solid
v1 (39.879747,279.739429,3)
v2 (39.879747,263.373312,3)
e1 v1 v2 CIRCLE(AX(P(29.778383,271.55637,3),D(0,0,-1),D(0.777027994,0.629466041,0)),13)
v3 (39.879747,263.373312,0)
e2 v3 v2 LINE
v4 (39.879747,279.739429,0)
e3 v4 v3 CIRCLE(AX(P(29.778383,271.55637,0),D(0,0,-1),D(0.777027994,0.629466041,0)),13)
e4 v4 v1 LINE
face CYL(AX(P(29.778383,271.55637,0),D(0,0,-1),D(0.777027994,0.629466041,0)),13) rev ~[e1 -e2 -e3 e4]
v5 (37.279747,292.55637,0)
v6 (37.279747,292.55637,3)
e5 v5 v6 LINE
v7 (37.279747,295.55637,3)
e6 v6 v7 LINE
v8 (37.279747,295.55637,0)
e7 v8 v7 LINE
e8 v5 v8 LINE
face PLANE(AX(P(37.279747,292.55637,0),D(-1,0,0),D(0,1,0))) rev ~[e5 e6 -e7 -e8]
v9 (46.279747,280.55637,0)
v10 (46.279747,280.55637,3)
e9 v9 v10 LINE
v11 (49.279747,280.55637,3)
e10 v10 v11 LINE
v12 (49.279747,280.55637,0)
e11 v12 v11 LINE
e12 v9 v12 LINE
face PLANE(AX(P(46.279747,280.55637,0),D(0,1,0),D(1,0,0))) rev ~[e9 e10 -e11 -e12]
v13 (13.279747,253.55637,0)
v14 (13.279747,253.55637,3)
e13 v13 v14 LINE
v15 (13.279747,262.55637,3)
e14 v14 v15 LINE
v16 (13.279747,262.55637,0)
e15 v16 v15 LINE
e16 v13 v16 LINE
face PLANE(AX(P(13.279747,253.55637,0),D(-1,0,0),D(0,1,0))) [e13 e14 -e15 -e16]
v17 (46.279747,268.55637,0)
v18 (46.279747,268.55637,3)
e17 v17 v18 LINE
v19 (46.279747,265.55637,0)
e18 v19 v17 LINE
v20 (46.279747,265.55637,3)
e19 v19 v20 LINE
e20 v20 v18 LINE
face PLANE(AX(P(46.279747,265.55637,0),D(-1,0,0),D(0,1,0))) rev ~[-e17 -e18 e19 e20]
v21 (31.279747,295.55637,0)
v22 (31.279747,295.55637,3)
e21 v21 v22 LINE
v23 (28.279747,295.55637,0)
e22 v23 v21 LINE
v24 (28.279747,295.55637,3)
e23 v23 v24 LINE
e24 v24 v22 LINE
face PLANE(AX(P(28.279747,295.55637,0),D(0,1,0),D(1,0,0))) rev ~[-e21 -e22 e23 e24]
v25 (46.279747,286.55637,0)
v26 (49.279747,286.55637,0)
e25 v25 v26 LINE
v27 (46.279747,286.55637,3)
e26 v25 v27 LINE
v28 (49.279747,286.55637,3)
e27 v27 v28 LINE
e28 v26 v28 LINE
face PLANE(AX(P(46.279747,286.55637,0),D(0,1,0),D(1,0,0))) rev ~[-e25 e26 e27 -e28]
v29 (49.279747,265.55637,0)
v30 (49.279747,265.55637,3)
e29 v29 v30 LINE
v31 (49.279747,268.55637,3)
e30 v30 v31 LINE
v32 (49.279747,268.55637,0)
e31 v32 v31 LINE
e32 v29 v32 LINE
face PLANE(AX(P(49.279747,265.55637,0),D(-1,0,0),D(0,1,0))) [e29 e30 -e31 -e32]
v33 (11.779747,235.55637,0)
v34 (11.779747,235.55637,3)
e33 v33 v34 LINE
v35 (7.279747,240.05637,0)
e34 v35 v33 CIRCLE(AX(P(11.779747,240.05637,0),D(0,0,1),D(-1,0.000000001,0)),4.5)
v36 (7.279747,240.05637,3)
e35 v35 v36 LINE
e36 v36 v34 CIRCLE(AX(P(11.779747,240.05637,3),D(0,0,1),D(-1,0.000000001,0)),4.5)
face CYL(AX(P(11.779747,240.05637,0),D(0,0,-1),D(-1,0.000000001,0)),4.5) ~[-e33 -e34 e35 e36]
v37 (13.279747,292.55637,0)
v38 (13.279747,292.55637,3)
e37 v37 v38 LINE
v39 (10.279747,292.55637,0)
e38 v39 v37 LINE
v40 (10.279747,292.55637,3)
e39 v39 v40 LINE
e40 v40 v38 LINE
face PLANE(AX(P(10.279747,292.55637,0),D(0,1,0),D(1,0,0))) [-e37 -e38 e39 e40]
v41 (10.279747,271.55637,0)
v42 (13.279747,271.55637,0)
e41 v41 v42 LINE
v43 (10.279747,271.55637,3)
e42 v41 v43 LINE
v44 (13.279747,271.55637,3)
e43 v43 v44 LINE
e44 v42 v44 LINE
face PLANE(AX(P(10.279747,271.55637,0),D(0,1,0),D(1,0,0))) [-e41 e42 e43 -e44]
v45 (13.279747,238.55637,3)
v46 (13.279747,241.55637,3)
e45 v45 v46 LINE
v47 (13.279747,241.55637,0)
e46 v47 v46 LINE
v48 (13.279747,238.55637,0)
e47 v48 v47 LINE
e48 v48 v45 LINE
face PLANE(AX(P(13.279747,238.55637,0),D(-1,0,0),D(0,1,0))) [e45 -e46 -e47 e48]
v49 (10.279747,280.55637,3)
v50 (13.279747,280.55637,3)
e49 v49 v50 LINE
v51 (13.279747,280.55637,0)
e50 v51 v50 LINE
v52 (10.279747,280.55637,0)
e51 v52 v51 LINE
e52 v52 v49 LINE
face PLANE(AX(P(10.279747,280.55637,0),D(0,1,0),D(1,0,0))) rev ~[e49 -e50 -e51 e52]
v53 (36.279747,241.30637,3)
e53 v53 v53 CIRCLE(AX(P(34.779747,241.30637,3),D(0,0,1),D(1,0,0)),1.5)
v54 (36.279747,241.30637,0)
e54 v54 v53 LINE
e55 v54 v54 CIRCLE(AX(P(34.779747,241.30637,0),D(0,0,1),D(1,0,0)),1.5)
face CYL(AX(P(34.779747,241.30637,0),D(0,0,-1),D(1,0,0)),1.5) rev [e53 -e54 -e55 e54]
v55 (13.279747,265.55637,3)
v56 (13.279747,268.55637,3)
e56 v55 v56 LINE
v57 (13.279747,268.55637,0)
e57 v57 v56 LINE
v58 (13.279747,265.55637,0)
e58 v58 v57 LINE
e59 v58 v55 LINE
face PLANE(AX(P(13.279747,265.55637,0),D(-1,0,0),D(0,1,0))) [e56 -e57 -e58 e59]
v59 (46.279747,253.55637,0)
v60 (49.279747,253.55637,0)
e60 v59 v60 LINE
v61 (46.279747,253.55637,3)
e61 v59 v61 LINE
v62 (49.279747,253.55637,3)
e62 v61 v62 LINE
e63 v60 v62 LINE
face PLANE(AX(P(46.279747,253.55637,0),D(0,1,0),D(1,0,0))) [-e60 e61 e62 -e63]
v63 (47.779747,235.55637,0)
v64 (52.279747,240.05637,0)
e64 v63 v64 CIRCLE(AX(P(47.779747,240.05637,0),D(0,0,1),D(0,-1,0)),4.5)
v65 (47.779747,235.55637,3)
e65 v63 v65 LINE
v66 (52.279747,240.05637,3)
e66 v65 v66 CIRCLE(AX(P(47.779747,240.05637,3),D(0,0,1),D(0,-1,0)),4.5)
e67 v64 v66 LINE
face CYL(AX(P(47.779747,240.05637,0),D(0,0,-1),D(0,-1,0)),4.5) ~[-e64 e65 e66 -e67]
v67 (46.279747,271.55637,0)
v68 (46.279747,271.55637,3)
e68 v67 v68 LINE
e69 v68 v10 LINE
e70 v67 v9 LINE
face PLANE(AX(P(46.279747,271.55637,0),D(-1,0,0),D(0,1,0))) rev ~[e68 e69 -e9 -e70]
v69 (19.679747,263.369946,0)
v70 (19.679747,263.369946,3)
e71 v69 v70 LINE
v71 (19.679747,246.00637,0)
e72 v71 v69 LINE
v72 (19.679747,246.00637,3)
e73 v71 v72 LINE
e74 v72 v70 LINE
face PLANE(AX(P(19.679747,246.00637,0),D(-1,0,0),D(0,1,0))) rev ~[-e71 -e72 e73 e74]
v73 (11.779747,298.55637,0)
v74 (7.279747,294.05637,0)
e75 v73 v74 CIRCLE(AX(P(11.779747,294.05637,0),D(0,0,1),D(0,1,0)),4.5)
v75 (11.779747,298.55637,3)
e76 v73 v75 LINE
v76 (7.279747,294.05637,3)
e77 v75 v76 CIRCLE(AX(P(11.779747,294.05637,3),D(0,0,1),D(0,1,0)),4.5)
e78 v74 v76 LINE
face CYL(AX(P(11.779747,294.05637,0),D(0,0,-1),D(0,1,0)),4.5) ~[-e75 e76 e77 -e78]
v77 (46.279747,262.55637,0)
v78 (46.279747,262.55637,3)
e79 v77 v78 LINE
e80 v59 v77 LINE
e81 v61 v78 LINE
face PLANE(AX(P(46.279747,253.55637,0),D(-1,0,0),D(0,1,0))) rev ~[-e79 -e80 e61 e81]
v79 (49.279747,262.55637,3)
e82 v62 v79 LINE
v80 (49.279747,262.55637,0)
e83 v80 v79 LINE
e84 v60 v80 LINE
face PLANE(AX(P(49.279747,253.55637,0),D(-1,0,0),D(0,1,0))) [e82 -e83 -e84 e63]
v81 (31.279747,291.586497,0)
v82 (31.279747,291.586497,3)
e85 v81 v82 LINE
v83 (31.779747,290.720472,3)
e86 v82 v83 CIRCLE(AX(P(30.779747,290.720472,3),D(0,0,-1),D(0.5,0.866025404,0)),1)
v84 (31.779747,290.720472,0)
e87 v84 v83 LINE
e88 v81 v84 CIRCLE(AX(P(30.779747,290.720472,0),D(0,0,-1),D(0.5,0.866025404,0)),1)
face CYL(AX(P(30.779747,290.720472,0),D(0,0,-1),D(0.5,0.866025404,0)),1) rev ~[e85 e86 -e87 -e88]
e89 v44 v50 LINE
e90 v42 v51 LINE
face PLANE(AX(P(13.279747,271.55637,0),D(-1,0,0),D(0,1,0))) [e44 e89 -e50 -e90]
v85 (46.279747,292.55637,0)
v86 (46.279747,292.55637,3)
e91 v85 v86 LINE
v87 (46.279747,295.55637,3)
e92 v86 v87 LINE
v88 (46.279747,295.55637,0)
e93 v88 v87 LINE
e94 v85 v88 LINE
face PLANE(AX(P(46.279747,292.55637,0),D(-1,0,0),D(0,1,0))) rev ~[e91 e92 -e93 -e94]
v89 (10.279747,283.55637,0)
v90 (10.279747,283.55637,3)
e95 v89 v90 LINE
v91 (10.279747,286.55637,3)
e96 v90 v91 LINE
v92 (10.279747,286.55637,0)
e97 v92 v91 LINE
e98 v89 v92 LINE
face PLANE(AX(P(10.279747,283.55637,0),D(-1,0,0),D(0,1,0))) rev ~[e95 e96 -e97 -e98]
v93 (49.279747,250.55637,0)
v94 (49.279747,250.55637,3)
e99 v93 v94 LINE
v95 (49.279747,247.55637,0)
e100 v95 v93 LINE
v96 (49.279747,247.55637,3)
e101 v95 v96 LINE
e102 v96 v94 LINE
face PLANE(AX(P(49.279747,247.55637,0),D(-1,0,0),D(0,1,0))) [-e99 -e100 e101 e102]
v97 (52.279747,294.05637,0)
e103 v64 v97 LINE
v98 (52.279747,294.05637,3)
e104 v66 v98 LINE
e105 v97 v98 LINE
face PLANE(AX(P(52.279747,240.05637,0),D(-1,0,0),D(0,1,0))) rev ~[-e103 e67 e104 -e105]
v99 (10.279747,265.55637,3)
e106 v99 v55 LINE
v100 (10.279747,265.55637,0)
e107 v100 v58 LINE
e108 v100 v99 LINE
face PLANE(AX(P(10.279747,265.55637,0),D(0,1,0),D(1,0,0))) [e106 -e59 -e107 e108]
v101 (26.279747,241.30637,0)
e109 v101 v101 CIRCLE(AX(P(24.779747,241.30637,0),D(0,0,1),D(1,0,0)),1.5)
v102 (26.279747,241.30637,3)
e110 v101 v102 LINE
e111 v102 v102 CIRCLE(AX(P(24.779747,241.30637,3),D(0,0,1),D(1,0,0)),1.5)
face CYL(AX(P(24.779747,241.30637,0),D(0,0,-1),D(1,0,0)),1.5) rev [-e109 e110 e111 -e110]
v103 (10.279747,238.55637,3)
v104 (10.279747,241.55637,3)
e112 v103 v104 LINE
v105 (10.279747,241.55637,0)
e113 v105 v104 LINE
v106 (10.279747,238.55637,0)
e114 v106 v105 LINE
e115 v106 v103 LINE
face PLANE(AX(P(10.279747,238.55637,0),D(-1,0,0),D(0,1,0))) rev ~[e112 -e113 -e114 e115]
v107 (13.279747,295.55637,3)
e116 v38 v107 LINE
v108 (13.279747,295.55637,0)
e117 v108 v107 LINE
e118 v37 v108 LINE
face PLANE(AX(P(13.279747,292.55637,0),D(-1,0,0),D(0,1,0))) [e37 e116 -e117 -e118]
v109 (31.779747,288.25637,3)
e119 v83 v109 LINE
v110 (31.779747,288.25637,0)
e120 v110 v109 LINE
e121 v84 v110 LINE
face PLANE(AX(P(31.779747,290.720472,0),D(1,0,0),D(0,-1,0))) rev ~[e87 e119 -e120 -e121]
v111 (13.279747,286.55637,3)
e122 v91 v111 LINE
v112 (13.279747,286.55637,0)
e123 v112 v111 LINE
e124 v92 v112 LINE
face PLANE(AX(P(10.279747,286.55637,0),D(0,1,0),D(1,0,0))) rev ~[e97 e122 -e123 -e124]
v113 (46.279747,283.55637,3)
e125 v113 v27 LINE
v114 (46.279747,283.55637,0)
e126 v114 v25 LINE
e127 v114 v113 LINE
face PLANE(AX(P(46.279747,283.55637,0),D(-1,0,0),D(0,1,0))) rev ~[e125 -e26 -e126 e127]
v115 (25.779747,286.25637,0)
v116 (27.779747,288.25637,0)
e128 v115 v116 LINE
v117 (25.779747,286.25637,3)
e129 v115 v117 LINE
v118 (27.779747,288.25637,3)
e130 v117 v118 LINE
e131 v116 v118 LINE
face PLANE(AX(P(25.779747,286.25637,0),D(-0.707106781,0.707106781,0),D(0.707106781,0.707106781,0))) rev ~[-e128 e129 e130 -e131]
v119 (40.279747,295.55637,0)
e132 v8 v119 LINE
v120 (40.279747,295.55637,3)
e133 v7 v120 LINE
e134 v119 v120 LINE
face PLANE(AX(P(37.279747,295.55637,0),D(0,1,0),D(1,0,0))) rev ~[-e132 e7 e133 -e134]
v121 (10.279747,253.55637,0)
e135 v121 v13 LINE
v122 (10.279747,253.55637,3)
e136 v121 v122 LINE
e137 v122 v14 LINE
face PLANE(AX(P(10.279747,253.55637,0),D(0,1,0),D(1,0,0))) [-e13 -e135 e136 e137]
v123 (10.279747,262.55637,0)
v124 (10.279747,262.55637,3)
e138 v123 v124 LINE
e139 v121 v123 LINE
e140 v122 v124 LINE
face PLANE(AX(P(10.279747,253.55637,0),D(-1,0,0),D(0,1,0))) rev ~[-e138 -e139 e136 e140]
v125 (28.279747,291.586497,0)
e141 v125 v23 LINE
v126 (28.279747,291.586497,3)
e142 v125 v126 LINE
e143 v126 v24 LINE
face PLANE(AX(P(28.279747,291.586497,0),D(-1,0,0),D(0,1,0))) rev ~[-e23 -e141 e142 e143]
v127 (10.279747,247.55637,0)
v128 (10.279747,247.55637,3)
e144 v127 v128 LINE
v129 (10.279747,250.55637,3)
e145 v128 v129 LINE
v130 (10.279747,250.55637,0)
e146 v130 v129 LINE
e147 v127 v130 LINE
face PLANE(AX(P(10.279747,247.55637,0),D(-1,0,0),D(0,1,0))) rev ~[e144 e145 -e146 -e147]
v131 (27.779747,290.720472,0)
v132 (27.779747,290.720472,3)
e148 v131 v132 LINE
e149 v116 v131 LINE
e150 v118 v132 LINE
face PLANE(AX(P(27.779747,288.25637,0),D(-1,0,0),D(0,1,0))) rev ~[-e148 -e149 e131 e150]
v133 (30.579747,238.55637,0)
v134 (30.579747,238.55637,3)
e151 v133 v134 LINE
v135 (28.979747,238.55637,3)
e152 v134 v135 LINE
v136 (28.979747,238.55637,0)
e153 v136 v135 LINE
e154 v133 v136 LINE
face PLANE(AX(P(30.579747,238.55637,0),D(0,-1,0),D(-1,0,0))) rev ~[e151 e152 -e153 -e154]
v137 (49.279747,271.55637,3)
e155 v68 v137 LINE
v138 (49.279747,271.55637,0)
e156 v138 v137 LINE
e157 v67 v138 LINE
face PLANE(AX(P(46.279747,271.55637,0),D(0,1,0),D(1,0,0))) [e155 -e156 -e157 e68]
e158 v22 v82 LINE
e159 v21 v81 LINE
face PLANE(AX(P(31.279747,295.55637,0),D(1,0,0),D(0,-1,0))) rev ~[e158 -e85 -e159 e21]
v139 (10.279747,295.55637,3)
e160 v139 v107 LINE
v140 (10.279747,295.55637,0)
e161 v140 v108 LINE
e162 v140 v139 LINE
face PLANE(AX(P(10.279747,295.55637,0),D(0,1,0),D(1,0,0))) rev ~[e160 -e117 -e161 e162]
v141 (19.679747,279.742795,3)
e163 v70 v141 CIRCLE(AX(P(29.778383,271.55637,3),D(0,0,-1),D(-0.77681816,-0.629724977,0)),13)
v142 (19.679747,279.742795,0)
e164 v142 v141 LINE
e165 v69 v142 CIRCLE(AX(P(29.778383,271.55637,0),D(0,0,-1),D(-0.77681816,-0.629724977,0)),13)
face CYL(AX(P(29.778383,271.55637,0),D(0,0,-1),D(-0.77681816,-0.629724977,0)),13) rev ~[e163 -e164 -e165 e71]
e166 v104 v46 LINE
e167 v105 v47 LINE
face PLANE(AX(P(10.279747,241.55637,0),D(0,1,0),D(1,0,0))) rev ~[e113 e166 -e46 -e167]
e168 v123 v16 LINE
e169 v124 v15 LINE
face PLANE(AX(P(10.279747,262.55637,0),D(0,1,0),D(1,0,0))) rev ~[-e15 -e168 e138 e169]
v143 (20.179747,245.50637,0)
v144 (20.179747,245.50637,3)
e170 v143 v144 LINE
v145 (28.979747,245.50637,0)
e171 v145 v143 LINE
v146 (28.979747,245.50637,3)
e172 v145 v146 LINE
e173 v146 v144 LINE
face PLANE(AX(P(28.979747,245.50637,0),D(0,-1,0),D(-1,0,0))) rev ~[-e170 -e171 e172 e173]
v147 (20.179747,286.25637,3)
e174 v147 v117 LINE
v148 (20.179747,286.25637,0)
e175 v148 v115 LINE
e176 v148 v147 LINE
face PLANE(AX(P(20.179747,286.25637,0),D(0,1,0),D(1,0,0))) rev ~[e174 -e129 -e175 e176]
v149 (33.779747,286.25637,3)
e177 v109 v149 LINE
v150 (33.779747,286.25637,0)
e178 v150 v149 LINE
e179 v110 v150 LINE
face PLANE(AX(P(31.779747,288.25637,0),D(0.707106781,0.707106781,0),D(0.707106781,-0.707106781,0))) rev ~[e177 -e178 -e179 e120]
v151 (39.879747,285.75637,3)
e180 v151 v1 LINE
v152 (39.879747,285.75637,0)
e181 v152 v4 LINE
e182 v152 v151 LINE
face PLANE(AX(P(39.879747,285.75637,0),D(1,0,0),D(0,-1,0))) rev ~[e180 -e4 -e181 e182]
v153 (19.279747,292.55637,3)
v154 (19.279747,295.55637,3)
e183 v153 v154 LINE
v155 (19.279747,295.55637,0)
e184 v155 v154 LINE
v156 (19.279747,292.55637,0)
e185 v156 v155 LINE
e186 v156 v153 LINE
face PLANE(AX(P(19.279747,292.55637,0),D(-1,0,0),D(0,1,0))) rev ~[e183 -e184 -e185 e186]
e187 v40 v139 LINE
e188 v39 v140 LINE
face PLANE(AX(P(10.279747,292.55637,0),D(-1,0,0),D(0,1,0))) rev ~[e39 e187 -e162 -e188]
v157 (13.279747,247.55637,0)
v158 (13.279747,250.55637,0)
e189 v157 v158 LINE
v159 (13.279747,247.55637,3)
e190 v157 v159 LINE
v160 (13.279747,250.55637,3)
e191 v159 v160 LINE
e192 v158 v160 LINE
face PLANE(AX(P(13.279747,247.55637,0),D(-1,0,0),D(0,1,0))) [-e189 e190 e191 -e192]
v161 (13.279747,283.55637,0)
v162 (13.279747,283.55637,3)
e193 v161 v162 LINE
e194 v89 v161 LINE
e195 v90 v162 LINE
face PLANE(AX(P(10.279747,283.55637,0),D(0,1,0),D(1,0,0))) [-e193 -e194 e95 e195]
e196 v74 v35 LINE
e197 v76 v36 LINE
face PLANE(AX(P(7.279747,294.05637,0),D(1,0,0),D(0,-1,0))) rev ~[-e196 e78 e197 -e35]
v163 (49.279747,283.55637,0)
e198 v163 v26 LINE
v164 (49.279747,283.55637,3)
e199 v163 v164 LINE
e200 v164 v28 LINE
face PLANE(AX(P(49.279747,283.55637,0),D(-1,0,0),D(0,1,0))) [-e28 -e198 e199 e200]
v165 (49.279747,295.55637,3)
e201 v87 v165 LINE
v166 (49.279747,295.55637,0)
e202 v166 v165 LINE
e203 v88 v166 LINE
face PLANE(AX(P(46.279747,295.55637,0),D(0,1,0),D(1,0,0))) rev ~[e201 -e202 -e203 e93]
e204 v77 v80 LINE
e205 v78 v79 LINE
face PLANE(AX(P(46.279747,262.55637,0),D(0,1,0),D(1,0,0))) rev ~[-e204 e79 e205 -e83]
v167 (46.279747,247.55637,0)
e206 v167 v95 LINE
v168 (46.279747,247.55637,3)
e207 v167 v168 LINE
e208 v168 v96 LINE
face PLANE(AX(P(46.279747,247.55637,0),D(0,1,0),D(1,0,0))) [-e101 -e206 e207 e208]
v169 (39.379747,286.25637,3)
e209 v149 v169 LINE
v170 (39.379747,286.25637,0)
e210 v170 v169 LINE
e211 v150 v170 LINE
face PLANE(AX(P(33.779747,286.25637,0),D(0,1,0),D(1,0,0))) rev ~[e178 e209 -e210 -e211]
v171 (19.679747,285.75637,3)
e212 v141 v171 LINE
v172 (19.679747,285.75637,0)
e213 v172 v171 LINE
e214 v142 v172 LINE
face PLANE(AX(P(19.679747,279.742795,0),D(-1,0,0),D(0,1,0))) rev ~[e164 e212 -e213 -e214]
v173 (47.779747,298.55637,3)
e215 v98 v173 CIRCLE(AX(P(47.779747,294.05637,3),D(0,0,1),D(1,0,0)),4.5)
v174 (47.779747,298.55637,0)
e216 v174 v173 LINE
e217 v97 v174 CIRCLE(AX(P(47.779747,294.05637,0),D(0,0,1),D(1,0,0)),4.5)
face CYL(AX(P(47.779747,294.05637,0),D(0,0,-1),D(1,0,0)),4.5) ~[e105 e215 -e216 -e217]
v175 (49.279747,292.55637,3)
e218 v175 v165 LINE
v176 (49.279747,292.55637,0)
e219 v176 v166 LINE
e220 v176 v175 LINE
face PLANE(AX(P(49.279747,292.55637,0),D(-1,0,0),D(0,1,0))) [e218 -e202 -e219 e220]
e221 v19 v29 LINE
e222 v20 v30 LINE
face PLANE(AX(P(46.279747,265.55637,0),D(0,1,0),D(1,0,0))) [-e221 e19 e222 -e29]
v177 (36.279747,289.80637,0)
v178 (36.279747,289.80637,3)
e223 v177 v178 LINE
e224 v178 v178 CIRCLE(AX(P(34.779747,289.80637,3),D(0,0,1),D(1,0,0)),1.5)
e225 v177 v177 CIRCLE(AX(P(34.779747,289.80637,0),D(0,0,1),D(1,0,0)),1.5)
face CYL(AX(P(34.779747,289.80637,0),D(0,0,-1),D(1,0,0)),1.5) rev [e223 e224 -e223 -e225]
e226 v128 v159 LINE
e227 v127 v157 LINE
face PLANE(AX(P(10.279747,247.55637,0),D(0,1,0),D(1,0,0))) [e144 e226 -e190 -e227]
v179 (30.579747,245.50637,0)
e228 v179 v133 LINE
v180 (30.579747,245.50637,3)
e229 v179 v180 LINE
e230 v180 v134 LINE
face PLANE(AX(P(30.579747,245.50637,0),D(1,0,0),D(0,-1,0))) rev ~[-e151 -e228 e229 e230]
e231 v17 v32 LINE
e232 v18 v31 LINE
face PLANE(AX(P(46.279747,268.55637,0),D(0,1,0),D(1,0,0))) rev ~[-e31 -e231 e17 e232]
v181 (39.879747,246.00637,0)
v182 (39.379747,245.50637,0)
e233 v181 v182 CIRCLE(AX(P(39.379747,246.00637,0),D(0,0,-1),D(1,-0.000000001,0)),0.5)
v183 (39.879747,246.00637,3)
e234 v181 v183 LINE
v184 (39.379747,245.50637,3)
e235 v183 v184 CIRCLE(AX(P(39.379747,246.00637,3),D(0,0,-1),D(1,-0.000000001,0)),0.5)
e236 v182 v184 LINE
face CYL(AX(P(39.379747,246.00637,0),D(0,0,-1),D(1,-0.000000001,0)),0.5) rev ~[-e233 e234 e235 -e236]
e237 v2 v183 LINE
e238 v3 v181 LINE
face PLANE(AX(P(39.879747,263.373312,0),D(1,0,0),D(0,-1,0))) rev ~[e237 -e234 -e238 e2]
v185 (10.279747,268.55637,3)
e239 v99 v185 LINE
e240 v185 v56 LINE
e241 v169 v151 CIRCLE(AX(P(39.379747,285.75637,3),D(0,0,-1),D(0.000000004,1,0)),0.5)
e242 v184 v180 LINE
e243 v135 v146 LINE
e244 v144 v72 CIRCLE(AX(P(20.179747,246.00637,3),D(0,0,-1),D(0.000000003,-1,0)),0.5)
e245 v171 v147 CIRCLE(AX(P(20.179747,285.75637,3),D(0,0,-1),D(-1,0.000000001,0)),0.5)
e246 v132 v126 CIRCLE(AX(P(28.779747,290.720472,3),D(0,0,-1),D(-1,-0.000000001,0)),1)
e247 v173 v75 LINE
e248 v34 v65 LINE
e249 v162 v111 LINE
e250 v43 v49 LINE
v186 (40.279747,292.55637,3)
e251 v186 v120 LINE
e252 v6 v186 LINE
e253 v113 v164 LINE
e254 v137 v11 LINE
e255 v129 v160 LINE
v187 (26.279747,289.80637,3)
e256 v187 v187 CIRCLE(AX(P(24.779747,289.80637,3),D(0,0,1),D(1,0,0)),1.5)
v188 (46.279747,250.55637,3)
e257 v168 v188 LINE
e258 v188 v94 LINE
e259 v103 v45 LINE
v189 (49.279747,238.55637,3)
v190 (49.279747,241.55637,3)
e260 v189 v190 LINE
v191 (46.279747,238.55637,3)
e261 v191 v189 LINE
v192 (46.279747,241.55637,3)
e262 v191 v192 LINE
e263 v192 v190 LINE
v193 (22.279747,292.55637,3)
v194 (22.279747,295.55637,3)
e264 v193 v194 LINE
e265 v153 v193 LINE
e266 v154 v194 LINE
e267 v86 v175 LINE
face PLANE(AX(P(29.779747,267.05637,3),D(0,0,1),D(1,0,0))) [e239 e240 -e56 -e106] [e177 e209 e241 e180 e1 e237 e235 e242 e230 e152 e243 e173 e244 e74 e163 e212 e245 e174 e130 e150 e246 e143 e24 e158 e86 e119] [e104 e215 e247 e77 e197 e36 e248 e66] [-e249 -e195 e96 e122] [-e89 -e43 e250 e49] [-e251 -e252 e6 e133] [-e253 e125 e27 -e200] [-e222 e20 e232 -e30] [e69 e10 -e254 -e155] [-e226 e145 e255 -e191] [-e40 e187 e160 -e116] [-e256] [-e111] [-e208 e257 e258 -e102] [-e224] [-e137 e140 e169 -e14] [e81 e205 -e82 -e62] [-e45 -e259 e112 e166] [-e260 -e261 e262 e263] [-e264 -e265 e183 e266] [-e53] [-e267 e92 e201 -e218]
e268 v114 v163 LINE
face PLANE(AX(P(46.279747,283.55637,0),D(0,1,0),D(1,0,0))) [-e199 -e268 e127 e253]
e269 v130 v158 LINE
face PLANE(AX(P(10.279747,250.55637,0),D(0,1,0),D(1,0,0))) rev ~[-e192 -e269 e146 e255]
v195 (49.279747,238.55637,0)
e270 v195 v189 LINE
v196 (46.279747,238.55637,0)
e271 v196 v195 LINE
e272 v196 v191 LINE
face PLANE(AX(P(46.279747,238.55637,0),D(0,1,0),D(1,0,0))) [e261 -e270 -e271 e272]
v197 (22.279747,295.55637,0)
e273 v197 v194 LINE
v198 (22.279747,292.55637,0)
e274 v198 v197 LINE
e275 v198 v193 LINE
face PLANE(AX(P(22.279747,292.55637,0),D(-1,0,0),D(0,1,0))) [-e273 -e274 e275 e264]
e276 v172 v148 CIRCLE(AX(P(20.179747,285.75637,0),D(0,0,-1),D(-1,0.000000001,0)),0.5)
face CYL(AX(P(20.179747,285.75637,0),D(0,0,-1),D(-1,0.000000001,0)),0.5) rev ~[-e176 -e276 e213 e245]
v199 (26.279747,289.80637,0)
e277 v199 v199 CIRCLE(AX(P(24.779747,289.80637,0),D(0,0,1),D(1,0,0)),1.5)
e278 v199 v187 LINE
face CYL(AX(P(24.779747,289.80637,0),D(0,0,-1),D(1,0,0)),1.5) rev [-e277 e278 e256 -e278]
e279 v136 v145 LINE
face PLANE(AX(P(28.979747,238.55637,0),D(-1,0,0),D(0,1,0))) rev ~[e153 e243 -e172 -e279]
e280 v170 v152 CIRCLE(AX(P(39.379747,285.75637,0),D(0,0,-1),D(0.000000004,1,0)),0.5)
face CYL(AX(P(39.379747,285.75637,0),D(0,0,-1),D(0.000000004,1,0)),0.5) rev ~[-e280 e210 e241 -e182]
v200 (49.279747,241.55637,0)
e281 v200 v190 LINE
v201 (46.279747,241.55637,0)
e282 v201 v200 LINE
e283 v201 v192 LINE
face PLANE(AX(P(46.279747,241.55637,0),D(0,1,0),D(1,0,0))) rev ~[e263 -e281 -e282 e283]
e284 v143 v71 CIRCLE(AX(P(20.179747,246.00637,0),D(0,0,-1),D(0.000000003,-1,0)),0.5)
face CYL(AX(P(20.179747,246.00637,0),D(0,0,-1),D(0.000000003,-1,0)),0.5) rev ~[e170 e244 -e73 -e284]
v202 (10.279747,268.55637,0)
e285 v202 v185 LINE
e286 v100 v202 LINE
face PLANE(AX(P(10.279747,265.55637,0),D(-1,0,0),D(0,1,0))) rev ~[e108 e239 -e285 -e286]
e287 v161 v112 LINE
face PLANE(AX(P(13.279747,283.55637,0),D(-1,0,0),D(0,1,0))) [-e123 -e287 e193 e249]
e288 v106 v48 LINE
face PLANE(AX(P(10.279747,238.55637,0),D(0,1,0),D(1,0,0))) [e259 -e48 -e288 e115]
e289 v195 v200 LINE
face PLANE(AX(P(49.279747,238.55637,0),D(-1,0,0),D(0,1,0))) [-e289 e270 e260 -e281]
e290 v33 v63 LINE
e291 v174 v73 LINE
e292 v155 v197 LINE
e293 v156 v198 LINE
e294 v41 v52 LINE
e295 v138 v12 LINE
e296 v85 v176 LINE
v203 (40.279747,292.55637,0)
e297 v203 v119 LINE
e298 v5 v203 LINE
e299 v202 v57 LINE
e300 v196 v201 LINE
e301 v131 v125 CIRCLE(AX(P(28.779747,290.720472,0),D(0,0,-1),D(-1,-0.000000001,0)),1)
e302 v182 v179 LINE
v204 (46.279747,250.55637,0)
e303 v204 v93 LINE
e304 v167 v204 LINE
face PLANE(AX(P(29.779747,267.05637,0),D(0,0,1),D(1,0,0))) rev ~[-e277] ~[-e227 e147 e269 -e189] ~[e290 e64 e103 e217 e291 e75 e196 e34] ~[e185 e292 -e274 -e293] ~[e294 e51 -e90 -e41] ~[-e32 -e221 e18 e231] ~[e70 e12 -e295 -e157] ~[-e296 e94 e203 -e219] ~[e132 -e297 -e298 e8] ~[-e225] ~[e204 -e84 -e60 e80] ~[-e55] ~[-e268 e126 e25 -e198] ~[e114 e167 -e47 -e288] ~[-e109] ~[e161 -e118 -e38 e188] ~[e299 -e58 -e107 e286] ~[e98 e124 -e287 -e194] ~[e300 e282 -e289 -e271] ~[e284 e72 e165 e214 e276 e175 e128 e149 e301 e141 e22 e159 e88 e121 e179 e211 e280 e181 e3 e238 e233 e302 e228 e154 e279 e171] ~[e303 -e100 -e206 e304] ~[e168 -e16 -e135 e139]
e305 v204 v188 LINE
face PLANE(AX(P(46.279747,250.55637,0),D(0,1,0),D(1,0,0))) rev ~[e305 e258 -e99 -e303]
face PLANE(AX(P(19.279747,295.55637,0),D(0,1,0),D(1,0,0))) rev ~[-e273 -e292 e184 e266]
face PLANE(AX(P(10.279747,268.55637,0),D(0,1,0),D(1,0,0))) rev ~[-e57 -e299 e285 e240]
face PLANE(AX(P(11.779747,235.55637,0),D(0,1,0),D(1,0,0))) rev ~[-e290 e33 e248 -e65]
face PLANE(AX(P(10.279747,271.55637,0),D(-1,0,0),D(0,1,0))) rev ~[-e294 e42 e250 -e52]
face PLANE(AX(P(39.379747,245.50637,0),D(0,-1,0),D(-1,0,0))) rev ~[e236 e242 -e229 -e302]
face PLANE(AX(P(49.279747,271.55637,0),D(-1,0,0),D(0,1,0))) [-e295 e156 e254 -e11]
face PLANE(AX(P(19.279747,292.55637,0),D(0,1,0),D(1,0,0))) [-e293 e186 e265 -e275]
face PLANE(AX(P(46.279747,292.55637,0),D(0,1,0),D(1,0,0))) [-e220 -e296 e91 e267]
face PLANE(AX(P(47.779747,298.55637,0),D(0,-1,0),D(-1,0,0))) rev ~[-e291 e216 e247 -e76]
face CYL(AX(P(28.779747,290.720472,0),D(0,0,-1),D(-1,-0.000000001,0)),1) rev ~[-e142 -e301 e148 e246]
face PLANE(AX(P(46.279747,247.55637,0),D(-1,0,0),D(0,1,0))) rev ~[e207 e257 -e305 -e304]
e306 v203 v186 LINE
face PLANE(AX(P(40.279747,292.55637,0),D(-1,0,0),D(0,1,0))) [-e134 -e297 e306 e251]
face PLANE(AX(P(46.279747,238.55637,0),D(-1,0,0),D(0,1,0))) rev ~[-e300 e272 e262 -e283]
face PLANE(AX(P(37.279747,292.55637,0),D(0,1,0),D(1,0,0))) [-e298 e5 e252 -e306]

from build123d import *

# Parameters (mm, degrees)
MODEL_W                 = 3
MODEL_H                 = 3
MODEL_R                 = 1.5
MODEL_H_2               = 9
SALIENTE_EXTRUIR1_DEPTH = 3


with BuildPart() as part:
    # Model → Saliente-Extruir1 (new body)
    with BuildSketch(Plane.XY):
        with BuildLine():
            Line((7.279746634, 294.056370254), (7.279746634, 240.056370254))
            ThreePointArc((7.279746634, 240.056370254), (8.597766118, 236.874389738), (11.779746634, 235.556370254))
            Line((11.779746634, 235.556370254), (47.779746634, 235.556370254))
            ThreePointArc((47.779746634, 235.556370254), (50.961727149, 236.874389738), (52.279746634, 240.056370254))
            Line((52.279746634, 240.056370254), (52.279746634, 294.056370254))
            ThreePointArc((52.279746634, 294.056370254), (50.961727149, 297.238350769), (47.779746634, 298.556370254))
            Line((47.779746634, 298.556370254), (11.779746634, 298.556370254))
            ThreePointArc((11.779746634, 298.556370254), (8.597766118, 297.238350769), (7.279746634, 294.056370254))
        make_face()
        with Locations((11.779746634, 240.056370254)):
            Rectangle(MODEL_W, MODEL_H, mode=Mode.SUBTRACT)
        with Locations((11.779746634, 249.056370254)):
            Rectangle(MODEL_W, MODEL_H, mode=Mode.SUBTRACT)
        with Locations((24.779746634, 241.306370254)):
            Circle(MODEL_R, mode=Mode.SUBTRACT)
        with Locations((11.779746634, 258.056370254)):
            Rectangle(MODEL_W, MODEL_H_2, mode=Mode.SUBTRACT)
        with Locations((34.779746634, 241.306370254)):
            Circle(MODEL_R, mode=Mode.SUBTRACT)
        with Locations((47.779746634, 240.056370254)):
            Rectangle(MODEL_W, MODEL_H, mode=Mode.SUBTRACT)
        with Locations((47.779746634, 249.056370254)):
            Rectangle(MODEL_W, MODEL_H, mode=Mode.SUBTRACT)
        with Locations((47.779746634, 258.056370254)):
            Rectangle(MODEL_W, MODEL_H_2, mode=Mode.SUBTRACT)
        with Locations((11.779746634, 267.056370254)):
            Rectangle(MODEL_W, MODEL_H, mode=Mode.SUBTRACT)
        with Locations((11.779746634, 276.056370254)):
            Rectangle(MODEL_W, MODEL_H_2, mode=Mode.SUBTRACT)
        with BuildLine():
            Line((28.279746634, 291.586497273), (28.279746634, 295.556370254))
            Line((28.279746634, 295.556370254), (31.279746634, 295.556370254))
            Line((31.279746634, 295.556370254), (31.279746634, 291.586497273))
            ThreePointArc((31.279746634, 291.586497273), (31.645772038, 291.220471869), (31.779746634, 290.720471869))
            Line((31.779746634, 290.720471869), (31.779746634, 288.256370254))
            Line((31.779746634, 288.256370254), (33.779746634, 286.256370254))
            Line((33.779746634, 286.256370254), (39.379746634, 286.256370254))
            ThreePointArc((39.379746634, 286.256370254), (39.733300024, 286.109923644), (39.879746634, 285.756370254))
            Line((39.879746634, 285.756370254), (39.879746634, 279.739428783))
            ThreePointArc((39.879746634, 279.739428783), (42.778382711, 271.556370254), (39.879746634, 263.373311725))
            Line((39.879746634, 263.373311725), (39.879746634, 246.006370254))
            ThreePointArc((39.879746634, 246.006370254), (39.733300024, 245.652816863), (39.379746634, 245.506370254))
            Line((39.379746634, 245.506370254), (30.579746634, 245.506370254))
            Line((30.579746634, 245.506370254), (30.579746634, 238.556370254))
            Line((30.579746634, 238.556370254), (28.979746634, 238.556370254))
            Line((28.979746634, 238.556370254), (28.979746634, 245.506370254))
            Line((28.979746634, 245.506370254), (20.179746634, 245.506370254))
            ThreePointArc((20.179746634, 245.506370254), (19.826193243, 245.652816863), (19.679746634, 246.006370254))
            Line((19.679746634, 246.006370254), (19.679746634, 263.369945552))
            ThreePointArc((19.679746634, 263.369945552), (16.778382711, 271.556370254), (19.679746634, 279.742794955))
            Line((19.679746634, 279.742794955), (19.679746634, 285.756370254))
            ThreePointArc((19.679746634, 285.756370254), (19.826193243, 286.109923644), (20.179746634, 286.256370254))
            Line((20.179746634, 286.256370254), (25.779746634, 286.256370254))
            Line((25.779746634, 286.256370254), (27.779746634, 288.256370254))
            Line((27.779746634, 288.256370254), (27.779746634, 290.720471869))
            ThreePointArc((27.779746634, 290.720471869), (27.91372123, 291.220471869), (28.279746634, 291.586497273))
        make_face(mode=Mode.SUBTRACT)
        with Locations((11.779746634, 285.056370254)):
            Rectangle(MODEL_W, MODEL_H, mode=Mode.SUBTRACT)
        with Locations((11.779746634, 294.056370254)):
            Rectangle(MODEL_W, MODEL_H, mode=Mode.SUBTRACT)
        with Locations((24.779746634, 289.806370254)):
            Circle(MODEL_R, mode=Mode.SUBTRACT)
        with Locations((20.779746634, 294.056370254)):
            Rectangle(MODEL_W, MODEL_H, mode=Mode.SUBTRACT)
        with Locations((47.779746634, 267.056370254)):
            Rectangle(MODEL_W, MODEL_H, mode=Mode.SUBTRACT)
        with Locations((47.779746634, 276.056370254)):
            Rectangle(MODEL_W, MODEL_H_2, mode=Mode.SUBTRACT)
        with Locations((34.779746634, 289.806370254)):
            Circle(MODEL_R, mode=Mode.SUBTRACT)
        with Locations((38.779746634, 294.056370254)):
            Rectangle(MODEL_W, MODEL_H, mode=Mode.SUBTRACT)
        with Locations((47.779746634, 285.056370254)):
            Rectangle(MODEL_W, MODEL_H, mode=Mode.SUBTRACT)
        with Locations((47.779746634, 294.056370254)):
            Rectangle(MODEL_W, MODEL_H, mode=Mode.SUBTRACT)
    extrude(amount=SALIENTE_EXTRUIR1_DEPTH)


solid = part.part
